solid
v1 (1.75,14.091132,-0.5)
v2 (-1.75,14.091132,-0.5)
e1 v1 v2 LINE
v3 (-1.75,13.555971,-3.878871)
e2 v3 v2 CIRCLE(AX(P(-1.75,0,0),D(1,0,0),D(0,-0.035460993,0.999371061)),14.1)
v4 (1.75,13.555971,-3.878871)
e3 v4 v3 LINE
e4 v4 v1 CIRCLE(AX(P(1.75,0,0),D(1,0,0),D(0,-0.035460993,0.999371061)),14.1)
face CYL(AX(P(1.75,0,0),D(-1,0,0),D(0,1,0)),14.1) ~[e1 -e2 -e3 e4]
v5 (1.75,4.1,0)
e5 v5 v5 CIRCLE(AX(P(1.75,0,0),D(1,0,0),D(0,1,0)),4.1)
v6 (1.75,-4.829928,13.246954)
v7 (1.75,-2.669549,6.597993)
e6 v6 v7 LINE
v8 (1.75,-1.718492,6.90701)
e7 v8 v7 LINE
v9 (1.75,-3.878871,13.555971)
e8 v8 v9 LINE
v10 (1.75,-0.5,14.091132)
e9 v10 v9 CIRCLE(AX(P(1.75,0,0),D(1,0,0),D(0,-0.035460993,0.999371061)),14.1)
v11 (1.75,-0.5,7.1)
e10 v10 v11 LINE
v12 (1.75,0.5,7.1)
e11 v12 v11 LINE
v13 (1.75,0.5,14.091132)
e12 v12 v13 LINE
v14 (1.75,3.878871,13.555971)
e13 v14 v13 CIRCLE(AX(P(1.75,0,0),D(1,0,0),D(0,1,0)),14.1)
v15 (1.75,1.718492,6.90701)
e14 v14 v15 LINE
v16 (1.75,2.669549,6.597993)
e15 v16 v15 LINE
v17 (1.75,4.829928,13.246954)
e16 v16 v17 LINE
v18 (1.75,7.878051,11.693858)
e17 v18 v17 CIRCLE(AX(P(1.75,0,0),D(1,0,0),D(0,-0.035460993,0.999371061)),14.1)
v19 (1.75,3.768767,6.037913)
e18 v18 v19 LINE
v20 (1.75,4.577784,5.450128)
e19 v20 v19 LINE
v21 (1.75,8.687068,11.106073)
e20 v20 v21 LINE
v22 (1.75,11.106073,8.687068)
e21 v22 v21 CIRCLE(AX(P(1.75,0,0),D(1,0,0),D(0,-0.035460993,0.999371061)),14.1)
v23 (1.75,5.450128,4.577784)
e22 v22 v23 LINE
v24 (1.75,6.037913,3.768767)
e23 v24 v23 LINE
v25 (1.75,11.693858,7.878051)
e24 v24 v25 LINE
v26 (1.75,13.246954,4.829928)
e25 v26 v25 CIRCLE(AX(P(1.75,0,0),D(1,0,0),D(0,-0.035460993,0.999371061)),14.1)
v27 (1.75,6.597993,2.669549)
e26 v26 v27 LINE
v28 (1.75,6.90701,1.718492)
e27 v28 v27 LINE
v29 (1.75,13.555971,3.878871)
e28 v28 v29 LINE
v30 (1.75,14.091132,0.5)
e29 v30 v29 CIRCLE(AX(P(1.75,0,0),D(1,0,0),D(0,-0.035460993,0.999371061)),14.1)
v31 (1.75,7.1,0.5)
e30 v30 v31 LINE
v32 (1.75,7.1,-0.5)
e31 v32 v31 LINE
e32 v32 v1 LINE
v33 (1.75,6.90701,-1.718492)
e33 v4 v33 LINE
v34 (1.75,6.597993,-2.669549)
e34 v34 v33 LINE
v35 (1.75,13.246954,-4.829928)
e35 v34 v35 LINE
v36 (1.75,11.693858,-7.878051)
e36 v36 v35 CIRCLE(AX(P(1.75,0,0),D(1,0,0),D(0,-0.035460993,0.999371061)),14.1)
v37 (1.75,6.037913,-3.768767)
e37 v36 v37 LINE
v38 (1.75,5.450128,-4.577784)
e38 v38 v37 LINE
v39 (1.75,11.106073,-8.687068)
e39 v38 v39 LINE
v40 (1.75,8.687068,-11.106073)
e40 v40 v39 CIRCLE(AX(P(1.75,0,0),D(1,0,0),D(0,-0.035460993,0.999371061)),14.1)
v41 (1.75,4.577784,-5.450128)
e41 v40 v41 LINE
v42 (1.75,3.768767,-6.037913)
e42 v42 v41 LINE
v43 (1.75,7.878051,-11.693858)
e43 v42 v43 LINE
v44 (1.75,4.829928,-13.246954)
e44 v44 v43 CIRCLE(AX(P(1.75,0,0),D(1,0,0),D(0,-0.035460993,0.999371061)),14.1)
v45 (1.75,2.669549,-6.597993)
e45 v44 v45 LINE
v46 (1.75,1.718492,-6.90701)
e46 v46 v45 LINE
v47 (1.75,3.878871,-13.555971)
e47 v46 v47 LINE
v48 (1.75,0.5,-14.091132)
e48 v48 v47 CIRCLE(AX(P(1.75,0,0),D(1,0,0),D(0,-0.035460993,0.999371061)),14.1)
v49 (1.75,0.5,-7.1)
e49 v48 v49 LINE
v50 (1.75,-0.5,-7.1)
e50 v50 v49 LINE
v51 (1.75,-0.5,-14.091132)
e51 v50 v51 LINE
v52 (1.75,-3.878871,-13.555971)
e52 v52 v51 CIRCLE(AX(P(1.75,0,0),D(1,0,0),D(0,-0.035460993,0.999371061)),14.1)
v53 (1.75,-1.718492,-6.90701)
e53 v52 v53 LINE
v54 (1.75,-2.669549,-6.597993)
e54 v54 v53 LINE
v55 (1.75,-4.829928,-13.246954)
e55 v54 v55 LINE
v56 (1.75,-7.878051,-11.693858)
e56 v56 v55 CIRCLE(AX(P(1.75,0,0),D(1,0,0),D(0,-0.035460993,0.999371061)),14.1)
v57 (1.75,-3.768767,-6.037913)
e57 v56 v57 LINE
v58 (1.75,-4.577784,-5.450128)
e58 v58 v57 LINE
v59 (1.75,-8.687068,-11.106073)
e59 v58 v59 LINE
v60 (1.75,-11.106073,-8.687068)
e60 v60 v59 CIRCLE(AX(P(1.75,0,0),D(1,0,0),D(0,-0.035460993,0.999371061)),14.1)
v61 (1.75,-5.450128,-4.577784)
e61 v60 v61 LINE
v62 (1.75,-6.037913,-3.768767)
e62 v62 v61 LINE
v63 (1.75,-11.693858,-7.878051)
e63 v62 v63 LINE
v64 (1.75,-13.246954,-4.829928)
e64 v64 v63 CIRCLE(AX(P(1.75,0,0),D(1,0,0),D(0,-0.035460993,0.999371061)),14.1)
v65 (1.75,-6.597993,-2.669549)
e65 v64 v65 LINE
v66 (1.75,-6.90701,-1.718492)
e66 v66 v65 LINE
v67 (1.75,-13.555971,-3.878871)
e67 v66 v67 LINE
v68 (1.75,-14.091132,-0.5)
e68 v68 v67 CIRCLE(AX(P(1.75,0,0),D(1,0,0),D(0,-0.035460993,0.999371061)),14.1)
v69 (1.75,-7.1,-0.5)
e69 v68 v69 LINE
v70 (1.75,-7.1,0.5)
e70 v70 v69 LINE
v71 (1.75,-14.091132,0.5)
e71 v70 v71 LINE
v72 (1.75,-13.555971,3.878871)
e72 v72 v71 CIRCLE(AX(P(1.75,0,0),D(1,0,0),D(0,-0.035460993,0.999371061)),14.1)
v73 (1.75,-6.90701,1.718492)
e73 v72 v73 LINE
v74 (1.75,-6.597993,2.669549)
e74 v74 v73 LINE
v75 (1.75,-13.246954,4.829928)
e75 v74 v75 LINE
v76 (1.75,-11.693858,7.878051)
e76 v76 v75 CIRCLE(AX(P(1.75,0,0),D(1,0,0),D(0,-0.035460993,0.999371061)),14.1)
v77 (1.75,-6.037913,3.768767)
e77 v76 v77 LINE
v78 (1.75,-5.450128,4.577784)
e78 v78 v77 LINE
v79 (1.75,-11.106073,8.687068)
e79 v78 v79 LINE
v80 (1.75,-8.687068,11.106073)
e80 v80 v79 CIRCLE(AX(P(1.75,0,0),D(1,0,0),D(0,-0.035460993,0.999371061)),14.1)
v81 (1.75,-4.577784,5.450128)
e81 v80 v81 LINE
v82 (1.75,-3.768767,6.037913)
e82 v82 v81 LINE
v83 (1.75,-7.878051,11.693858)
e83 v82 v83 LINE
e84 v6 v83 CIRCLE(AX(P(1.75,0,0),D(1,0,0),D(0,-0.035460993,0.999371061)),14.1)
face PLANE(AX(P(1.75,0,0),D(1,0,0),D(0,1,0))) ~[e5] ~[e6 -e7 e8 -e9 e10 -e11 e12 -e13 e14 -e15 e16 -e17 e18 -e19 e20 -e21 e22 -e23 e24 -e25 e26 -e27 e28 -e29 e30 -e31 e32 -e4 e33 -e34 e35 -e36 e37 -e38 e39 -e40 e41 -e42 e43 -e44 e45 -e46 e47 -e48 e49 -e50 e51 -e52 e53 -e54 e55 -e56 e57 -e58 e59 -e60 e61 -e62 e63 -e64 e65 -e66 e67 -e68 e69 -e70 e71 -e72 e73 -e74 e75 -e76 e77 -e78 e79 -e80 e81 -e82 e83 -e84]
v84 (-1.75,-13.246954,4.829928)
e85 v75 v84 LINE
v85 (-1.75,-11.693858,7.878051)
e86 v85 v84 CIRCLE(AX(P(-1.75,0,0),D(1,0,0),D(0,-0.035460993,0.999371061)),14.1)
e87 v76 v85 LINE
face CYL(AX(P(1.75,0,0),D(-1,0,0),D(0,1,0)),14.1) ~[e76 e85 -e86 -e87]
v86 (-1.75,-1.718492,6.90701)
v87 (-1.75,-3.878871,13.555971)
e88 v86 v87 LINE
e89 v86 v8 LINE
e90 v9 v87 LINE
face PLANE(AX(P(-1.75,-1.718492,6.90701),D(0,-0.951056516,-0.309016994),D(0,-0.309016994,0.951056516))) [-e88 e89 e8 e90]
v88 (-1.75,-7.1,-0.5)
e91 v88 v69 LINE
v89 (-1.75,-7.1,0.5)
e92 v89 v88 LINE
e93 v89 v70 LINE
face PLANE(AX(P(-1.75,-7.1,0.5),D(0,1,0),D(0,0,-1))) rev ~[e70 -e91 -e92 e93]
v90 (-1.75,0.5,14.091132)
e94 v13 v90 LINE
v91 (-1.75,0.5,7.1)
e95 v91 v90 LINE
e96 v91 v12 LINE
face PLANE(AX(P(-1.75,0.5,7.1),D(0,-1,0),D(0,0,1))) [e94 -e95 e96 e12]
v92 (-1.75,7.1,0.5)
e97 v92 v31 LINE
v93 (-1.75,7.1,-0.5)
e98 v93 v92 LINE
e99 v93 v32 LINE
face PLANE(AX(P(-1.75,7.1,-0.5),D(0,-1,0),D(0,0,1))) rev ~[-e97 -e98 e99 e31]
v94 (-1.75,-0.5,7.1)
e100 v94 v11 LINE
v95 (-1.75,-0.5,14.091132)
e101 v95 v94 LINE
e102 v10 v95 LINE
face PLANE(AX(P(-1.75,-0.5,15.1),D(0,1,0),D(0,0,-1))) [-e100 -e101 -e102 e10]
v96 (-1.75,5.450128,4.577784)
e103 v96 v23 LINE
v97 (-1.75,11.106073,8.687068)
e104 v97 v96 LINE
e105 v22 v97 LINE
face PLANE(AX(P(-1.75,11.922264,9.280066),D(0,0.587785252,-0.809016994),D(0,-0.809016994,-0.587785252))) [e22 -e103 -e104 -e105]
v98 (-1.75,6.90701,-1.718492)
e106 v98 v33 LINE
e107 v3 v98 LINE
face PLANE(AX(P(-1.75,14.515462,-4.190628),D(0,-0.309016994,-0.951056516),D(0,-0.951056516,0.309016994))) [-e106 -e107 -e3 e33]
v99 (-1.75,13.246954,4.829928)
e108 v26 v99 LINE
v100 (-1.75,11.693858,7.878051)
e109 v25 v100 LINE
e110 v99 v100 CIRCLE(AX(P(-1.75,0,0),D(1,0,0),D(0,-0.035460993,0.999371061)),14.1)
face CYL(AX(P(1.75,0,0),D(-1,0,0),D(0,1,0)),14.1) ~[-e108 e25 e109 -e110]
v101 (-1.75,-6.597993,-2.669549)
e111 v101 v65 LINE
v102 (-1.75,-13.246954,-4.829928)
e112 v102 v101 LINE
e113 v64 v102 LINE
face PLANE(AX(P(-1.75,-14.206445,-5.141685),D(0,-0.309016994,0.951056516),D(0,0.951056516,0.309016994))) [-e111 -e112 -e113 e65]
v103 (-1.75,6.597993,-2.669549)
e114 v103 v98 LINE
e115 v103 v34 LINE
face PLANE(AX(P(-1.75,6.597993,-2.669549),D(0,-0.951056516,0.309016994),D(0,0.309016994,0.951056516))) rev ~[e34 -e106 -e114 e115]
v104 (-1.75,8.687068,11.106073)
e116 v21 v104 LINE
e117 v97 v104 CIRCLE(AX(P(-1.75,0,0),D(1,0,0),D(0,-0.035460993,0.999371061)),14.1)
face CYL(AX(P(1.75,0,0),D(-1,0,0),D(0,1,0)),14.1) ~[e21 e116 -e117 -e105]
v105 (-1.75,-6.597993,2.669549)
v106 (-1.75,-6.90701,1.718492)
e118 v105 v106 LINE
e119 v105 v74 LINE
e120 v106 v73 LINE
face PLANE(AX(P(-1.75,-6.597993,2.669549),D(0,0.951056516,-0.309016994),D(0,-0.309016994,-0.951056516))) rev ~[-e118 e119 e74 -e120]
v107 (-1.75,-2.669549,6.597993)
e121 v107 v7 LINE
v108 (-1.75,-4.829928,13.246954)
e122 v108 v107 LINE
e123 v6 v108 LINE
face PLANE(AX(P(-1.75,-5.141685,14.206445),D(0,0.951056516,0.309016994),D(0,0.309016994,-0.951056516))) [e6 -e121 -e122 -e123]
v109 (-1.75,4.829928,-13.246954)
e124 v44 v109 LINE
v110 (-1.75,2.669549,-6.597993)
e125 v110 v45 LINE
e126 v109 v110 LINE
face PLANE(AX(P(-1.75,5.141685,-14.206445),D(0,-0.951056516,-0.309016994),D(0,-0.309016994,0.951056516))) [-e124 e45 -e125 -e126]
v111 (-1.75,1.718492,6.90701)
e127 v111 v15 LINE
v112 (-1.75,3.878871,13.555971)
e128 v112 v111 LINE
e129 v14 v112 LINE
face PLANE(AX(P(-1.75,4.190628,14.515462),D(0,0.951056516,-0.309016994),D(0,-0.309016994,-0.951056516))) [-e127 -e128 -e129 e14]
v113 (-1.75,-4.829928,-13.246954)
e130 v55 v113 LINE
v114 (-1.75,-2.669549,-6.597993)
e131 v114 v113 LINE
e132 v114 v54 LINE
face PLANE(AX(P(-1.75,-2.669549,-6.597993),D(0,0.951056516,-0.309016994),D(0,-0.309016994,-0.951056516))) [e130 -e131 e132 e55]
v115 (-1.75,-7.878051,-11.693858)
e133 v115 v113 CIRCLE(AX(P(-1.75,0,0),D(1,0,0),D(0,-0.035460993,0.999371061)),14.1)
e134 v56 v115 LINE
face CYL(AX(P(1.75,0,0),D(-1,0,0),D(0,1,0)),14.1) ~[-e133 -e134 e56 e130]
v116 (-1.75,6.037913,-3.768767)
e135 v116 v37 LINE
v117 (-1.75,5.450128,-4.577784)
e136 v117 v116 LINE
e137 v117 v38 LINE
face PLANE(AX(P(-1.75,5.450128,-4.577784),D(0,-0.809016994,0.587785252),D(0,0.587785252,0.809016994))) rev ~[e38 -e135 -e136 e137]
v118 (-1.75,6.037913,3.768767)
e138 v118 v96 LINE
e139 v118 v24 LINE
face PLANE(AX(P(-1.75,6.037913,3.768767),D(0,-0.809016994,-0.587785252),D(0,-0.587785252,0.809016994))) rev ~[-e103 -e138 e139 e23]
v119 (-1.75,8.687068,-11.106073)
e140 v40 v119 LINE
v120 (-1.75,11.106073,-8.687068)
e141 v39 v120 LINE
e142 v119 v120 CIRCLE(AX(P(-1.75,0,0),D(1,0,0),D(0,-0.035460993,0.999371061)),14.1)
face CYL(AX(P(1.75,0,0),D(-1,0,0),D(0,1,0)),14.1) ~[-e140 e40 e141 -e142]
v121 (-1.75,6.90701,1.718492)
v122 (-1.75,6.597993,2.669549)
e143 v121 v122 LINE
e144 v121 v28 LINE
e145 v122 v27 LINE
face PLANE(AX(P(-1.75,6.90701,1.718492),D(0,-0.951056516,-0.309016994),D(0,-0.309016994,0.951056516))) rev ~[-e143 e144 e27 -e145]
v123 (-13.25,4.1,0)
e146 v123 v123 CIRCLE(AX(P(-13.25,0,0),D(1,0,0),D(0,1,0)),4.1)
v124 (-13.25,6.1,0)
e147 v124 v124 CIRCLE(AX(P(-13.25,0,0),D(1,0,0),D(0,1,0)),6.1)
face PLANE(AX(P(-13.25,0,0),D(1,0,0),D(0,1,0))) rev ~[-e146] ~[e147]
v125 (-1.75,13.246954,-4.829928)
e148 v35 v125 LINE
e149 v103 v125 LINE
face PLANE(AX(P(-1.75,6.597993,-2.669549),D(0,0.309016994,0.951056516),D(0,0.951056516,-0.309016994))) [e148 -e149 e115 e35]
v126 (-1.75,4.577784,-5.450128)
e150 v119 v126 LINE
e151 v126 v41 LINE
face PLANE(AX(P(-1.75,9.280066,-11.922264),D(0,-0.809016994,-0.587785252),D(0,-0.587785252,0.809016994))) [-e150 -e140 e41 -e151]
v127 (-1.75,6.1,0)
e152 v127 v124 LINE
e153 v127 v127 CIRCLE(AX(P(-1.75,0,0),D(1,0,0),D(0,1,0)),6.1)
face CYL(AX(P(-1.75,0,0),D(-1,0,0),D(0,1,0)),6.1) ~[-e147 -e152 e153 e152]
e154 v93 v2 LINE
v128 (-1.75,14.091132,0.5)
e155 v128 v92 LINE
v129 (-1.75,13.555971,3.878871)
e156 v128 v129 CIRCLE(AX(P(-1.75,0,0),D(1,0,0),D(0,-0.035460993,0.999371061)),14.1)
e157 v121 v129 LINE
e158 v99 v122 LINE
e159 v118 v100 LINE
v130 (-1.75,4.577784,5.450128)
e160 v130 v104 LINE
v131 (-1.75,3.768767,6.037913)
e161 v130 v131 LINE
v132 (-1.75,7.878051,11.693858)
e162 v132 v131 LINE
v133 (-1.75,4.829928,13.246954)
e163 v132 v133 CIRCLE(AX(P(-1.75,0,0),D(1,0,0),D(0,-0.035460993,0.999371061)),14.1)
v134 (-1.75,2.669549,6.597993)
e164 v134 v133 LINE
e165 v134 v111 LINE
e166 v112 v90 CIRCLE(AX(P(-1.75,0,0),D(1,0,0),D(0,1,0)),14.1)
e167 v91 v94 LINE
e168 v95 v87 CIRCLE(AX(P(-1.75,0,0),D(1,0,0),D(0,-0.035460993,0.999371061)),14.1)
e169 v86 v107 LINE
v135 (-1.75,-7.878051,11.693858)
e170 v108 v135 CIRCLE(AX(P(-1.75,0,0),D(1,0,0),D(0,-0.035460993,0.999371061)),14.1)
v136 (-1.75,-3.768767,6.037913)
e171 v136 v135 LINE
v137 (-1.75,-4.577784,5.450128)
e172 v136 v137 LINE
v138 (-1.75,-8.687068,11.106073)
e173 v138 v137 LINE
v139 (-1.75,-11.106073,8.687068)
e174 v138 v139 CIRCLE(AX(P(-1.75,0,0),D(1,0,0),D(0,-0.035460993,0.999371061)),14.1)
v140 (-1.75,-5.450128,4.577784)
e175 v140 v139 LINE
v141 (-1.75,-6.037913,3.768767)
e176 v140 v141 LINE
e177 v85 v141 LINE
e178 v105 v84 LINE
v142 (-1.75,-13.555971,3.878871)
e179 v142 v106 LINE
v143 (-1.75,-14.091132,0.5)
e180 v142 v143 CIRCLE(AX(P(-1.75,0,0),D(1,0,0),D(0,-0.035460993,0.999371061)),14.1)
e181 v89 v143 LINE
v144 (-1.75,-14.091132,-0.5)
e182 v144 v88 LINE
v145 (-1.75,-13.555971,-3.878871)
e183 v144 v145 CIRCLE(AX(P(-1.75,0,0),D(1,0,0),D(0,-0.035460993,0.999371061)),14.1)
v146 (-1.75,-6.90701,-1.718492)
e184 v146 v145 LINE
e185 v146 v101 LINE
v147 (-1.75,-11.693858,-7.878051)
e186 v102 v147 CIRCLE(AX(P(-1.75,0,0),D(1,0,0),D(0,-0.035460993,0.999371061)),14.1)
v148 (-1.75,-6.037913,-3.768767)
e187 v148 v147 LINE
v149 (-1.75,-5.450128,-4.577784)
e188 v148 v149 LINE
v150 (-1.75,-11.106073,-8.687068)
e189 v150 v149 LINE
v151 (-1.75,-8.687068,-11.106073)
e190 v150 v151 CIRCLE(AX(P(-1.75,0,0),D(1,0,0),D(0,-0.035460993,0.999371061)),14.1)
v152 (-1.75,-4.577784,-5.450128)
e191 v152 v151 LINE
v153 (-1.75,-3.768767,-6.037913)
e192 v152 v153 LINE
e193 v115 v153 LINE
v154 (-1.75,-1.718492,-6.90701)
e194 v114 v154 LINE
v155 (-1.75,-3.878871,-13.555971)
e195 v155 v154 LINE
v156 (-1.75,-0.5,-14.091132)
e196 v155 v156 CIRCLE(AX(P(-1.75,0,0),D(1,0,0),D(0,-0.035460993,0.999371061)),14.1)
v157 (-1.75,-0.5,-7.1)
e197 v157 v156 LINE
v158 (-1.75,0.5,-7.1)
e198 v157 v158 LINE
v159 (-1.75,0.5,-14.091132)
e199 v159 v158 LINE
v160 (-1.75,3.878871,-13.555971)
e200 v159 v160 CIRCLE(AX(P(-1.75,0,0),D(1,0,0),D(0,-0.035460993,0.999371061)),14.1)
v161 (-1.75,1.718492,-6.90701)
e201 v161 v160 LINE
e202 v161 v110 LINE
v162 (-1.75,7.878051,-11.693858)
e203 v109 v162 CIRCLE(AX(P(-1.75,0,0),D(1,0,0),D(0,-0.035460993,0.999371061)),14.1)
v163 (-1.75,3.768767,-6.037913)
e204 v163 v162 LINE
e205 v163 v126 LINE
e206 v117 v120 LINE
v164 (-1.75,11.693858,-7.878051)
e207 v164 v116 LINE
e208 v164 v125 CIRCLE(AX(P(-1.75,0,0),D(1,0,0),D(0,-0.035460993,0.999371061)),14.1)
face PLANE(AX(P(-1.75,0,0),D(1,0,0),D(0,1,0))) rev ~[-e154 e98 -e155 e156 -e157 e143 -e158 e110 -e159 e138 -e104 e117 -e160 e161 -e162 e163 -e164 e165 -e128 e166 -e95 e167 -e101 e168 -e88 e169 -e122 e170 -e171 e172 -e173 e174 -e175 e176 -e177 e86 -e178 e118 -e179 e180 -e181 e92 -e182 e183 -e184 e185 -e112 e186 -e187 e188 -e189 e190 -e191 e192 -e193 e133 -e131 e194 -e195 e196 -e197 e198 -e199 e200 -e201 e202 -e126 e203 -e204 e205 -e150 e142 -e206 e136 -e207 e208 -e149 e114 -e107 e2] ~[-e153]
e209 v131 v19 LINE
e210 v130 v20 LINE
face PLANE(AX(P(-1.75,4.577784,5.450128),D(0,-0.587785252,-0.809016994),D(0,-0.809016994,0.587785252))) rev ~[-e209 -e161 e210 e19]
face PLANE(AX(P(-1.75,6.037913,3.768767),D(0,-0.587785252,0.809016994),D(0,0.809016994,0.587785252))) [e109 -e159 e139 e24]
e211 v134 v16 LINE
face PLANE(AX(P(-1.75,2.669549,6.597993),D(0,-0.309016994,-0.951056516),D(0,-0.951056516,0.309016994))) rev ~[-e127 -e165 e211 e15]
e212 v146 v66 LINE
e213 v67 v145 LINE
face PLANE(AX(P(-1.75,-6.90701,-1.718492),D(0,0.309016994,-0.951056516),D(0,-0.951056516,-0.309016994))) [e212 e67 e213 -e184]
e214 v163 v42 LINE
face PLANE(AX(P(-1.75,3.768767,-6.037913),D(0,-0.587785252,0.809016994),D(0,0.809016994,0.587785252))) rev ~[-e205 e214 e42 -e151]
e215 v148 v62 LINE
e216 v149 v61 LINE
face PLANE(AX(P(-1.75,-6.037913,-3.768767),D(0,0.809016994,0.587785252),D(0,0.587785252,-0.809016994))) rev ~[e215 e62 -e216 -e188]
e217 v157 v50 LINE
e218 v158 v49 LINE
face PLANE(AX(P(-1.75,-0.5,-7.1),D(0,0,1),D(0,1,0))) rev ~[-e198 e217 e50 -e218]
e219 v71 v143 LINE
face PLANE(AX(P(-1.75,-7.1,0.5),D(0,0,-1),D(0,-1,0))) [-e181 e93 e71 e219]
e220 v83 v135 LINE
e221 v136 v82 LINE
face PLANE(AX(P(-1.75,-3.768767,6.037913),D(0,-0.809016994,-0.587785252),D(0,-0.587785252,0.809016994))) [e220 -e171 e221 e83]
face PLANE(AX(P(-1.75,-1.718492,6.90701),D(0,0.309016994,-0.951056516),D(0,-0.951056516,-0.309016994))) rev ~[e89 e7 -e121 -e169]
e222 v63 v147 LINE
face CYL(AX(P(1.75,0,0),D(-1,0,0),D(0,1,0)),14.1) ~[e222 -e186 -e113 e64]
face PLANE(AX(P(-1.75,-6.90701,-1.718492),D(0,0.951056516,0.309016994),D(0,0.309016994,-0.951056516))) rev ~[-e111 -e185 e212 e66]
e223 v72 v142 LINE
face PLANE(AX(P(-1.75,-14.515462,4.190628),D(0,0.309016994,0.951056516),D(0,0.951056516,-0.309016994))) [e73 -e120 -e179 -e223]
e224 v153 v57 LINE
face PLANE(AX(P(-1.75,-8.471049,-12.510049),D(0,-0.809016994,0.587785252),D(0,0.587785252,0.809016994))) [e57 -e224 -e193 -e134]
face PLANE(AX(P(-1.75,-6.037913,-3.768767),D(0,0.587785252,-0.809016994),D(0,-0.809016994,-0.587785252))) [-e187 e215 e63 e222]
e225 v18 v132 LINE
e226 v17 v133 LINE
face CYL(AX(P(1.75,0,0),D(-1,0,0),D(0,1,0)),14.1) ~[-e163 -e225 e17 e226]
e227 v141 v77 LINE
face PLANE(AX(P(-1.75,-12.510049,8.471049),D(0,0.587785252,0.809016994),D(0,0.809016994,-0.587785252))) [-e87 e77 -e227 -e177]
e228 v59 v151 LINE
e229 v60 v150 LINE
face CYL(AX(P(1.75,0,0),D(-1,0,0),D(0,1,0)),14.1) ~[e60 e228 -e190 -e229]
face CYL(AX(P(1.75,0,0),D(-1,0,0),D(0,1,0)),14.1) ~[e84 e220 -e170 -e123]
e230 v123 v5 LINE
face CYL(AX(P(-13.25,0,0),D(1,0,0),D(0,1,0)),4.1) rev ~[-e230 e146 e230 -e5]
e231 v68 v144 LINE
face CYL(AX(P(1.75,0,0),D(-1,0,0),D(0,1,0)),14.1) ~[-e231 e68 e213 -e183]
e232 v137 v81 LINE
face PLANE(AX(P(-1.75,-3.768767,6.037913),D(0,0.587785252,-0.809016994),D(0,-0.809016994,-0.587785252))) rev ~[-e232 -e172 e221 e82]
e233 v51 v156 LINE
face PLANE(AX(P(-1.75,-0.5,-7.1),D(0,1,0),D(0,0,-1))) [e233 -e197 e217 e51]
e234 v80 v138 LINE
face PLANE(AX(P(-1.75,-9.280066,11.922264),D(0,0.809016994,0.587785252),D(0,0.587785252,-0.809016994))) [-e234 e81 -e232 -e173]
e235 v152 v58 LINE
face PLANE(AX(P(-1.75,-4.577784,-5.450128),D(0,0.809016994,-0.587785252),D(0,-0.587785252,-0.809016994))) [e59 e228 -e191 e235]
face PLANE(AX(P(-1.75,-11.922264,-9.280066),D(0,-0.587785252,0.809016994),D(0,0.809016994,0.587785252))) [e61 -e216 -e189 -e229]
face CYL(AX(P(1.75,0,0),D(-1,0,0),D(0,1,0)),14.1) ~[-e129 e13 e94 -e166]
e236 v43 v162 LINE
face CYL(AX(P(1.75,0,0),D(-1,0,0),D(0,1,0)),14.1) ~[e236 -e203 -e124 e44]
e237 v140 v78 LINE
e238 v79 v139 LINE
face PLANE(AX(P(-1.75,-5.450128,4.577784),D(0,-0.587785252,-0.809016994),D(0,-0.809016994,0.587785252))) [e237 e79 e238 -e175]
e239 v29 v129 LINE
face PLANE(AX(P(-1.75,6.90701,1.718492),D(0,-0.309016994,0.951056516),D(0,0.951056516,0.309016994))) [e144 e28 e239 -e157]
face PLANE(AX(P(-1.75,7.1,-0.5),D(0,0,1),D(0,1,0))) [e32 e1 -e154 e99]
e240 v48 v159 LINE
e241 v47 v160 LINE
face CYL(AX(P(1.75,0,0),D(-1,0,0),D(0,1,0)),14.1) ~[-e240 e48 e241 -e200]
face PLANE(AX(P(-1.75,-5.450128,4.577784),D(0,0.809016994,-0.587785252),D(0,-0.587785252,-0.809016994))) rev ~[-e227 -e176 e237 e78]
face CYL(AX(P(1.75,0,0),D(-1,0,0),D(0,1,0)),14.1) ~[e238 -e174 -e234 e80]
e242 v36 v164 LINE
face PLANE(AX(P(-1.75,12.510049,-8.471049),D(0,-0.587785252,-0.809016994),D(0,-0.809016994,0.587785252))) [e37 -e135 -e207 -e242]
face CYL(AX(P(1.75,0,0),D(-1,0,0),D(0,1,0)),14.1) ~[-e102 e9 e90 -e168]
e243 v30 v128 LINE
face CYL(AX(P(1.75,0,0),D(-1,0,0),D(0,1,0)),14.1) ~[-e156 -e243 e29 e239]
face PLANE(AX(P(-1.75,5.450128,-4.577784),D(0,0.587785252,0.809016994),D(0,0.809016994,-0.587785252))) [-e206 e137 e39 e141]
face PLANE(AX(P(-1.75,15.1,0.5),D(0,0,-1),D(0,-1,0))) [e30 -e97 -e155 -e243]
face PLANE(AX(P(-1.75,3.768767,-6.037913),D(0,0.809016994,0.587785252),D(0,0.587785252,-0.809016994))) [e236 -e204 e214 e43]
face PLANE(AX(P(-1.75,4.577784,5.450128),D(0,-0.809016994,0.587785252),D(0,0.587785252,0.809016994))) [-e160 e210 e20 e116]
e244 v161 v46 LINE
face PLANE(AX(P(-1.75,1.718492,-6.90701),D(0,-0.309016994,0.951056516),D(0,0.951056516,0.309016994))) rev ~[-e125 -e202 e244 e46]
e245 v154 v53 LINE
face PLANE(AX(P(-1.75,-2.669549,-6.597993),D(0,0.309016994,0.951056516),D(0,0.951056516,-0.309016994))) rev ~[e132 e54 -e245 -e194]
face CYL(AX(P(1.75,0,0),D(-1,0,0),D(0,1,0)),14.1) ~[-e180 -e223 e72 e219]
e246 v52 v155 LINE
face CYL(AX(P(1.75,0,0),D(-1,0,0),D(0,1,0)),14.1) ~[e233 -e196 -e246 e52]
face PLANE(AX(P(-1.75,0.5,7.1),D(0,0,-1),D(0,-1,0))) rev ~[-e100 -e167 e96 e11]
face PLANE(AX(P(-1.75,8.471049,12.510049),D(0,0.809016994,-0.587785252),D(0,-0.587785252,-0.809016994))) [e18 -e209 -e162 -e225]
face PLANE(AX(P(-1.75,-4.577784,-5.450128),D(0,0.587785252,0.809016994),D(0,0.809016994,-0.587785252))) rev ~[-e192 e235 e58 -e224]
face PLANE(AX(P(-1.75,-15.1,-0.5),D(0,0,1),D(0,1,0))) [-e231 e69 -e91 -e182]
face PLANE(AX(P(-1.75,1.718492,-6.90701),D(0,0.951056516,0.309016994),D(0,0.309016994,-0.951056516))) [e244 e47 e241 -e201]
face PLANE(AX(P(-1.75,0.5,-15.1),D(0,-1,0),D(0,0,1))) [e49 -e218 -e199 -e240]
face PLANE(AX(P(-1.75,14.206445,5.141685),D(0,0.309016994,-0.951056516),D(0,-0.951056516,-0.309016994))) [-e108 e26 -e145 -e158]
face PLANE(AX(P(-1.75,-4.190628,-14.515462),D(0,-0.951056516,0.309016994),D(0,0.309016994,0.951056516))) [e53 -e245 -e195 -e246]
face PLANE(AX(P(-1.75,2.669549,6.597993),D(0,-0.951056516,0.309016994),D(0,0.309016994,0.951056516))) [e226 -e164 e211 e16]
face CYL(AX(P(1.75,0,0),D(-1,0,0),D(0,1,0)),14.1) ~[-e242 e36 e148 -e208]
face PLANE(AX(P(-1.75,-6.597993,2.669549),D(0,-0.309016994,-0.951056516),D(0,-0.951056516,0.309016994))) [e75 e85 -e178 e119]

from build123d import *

# Parameters (mm, degrees)
POCKET_DEPTH       = 3.5
POLARPATTERN_COUNT = 20


with BuildPart() as part:
    # Sketch → Revolution (revolve)
    with BuildSketch(Plane.XY):
        Polygon((1.75, 4.1), (1.75, 14.1), (0, 14.1), (-1.75, 14.1), (-1.75, 6.1), (-13.25, 6.1), (-13.25, 4.1), align=None)
    revolve(axis=Axis((0, 0, 0), (1, 0, 0)))

    # Sketch001 (on Face4 of Revolution) → Pocket (cut)
    with BuildSketch(Plane(origin=(-1.75, 0, 0), x_dir=(0, -1, 0), z_dir=(-1, 0, 0))):
        Polygon((-0.5, 15.1), (0.5, 15.1), (0.5, 7.1), (0, 7.1), (-0.5, 7.1), align=None)
    pocket = extrude(amount=-POCKET_DEPTH, mode=Mode.SUBTRACT)

    # PolarPattern: Pocket ×20 about axis
    polarpattern_axis = Axis((-1.75, 0, 0), (-1, 0, 0))
    for i in range(1, POLARPATTERN_COUNT):
        add(pocket.rotate(polarpattern_axis, i * 360 / POLARPATTERN_COUNT), mode=Mode.SUBTRACT)


solid = part.part
